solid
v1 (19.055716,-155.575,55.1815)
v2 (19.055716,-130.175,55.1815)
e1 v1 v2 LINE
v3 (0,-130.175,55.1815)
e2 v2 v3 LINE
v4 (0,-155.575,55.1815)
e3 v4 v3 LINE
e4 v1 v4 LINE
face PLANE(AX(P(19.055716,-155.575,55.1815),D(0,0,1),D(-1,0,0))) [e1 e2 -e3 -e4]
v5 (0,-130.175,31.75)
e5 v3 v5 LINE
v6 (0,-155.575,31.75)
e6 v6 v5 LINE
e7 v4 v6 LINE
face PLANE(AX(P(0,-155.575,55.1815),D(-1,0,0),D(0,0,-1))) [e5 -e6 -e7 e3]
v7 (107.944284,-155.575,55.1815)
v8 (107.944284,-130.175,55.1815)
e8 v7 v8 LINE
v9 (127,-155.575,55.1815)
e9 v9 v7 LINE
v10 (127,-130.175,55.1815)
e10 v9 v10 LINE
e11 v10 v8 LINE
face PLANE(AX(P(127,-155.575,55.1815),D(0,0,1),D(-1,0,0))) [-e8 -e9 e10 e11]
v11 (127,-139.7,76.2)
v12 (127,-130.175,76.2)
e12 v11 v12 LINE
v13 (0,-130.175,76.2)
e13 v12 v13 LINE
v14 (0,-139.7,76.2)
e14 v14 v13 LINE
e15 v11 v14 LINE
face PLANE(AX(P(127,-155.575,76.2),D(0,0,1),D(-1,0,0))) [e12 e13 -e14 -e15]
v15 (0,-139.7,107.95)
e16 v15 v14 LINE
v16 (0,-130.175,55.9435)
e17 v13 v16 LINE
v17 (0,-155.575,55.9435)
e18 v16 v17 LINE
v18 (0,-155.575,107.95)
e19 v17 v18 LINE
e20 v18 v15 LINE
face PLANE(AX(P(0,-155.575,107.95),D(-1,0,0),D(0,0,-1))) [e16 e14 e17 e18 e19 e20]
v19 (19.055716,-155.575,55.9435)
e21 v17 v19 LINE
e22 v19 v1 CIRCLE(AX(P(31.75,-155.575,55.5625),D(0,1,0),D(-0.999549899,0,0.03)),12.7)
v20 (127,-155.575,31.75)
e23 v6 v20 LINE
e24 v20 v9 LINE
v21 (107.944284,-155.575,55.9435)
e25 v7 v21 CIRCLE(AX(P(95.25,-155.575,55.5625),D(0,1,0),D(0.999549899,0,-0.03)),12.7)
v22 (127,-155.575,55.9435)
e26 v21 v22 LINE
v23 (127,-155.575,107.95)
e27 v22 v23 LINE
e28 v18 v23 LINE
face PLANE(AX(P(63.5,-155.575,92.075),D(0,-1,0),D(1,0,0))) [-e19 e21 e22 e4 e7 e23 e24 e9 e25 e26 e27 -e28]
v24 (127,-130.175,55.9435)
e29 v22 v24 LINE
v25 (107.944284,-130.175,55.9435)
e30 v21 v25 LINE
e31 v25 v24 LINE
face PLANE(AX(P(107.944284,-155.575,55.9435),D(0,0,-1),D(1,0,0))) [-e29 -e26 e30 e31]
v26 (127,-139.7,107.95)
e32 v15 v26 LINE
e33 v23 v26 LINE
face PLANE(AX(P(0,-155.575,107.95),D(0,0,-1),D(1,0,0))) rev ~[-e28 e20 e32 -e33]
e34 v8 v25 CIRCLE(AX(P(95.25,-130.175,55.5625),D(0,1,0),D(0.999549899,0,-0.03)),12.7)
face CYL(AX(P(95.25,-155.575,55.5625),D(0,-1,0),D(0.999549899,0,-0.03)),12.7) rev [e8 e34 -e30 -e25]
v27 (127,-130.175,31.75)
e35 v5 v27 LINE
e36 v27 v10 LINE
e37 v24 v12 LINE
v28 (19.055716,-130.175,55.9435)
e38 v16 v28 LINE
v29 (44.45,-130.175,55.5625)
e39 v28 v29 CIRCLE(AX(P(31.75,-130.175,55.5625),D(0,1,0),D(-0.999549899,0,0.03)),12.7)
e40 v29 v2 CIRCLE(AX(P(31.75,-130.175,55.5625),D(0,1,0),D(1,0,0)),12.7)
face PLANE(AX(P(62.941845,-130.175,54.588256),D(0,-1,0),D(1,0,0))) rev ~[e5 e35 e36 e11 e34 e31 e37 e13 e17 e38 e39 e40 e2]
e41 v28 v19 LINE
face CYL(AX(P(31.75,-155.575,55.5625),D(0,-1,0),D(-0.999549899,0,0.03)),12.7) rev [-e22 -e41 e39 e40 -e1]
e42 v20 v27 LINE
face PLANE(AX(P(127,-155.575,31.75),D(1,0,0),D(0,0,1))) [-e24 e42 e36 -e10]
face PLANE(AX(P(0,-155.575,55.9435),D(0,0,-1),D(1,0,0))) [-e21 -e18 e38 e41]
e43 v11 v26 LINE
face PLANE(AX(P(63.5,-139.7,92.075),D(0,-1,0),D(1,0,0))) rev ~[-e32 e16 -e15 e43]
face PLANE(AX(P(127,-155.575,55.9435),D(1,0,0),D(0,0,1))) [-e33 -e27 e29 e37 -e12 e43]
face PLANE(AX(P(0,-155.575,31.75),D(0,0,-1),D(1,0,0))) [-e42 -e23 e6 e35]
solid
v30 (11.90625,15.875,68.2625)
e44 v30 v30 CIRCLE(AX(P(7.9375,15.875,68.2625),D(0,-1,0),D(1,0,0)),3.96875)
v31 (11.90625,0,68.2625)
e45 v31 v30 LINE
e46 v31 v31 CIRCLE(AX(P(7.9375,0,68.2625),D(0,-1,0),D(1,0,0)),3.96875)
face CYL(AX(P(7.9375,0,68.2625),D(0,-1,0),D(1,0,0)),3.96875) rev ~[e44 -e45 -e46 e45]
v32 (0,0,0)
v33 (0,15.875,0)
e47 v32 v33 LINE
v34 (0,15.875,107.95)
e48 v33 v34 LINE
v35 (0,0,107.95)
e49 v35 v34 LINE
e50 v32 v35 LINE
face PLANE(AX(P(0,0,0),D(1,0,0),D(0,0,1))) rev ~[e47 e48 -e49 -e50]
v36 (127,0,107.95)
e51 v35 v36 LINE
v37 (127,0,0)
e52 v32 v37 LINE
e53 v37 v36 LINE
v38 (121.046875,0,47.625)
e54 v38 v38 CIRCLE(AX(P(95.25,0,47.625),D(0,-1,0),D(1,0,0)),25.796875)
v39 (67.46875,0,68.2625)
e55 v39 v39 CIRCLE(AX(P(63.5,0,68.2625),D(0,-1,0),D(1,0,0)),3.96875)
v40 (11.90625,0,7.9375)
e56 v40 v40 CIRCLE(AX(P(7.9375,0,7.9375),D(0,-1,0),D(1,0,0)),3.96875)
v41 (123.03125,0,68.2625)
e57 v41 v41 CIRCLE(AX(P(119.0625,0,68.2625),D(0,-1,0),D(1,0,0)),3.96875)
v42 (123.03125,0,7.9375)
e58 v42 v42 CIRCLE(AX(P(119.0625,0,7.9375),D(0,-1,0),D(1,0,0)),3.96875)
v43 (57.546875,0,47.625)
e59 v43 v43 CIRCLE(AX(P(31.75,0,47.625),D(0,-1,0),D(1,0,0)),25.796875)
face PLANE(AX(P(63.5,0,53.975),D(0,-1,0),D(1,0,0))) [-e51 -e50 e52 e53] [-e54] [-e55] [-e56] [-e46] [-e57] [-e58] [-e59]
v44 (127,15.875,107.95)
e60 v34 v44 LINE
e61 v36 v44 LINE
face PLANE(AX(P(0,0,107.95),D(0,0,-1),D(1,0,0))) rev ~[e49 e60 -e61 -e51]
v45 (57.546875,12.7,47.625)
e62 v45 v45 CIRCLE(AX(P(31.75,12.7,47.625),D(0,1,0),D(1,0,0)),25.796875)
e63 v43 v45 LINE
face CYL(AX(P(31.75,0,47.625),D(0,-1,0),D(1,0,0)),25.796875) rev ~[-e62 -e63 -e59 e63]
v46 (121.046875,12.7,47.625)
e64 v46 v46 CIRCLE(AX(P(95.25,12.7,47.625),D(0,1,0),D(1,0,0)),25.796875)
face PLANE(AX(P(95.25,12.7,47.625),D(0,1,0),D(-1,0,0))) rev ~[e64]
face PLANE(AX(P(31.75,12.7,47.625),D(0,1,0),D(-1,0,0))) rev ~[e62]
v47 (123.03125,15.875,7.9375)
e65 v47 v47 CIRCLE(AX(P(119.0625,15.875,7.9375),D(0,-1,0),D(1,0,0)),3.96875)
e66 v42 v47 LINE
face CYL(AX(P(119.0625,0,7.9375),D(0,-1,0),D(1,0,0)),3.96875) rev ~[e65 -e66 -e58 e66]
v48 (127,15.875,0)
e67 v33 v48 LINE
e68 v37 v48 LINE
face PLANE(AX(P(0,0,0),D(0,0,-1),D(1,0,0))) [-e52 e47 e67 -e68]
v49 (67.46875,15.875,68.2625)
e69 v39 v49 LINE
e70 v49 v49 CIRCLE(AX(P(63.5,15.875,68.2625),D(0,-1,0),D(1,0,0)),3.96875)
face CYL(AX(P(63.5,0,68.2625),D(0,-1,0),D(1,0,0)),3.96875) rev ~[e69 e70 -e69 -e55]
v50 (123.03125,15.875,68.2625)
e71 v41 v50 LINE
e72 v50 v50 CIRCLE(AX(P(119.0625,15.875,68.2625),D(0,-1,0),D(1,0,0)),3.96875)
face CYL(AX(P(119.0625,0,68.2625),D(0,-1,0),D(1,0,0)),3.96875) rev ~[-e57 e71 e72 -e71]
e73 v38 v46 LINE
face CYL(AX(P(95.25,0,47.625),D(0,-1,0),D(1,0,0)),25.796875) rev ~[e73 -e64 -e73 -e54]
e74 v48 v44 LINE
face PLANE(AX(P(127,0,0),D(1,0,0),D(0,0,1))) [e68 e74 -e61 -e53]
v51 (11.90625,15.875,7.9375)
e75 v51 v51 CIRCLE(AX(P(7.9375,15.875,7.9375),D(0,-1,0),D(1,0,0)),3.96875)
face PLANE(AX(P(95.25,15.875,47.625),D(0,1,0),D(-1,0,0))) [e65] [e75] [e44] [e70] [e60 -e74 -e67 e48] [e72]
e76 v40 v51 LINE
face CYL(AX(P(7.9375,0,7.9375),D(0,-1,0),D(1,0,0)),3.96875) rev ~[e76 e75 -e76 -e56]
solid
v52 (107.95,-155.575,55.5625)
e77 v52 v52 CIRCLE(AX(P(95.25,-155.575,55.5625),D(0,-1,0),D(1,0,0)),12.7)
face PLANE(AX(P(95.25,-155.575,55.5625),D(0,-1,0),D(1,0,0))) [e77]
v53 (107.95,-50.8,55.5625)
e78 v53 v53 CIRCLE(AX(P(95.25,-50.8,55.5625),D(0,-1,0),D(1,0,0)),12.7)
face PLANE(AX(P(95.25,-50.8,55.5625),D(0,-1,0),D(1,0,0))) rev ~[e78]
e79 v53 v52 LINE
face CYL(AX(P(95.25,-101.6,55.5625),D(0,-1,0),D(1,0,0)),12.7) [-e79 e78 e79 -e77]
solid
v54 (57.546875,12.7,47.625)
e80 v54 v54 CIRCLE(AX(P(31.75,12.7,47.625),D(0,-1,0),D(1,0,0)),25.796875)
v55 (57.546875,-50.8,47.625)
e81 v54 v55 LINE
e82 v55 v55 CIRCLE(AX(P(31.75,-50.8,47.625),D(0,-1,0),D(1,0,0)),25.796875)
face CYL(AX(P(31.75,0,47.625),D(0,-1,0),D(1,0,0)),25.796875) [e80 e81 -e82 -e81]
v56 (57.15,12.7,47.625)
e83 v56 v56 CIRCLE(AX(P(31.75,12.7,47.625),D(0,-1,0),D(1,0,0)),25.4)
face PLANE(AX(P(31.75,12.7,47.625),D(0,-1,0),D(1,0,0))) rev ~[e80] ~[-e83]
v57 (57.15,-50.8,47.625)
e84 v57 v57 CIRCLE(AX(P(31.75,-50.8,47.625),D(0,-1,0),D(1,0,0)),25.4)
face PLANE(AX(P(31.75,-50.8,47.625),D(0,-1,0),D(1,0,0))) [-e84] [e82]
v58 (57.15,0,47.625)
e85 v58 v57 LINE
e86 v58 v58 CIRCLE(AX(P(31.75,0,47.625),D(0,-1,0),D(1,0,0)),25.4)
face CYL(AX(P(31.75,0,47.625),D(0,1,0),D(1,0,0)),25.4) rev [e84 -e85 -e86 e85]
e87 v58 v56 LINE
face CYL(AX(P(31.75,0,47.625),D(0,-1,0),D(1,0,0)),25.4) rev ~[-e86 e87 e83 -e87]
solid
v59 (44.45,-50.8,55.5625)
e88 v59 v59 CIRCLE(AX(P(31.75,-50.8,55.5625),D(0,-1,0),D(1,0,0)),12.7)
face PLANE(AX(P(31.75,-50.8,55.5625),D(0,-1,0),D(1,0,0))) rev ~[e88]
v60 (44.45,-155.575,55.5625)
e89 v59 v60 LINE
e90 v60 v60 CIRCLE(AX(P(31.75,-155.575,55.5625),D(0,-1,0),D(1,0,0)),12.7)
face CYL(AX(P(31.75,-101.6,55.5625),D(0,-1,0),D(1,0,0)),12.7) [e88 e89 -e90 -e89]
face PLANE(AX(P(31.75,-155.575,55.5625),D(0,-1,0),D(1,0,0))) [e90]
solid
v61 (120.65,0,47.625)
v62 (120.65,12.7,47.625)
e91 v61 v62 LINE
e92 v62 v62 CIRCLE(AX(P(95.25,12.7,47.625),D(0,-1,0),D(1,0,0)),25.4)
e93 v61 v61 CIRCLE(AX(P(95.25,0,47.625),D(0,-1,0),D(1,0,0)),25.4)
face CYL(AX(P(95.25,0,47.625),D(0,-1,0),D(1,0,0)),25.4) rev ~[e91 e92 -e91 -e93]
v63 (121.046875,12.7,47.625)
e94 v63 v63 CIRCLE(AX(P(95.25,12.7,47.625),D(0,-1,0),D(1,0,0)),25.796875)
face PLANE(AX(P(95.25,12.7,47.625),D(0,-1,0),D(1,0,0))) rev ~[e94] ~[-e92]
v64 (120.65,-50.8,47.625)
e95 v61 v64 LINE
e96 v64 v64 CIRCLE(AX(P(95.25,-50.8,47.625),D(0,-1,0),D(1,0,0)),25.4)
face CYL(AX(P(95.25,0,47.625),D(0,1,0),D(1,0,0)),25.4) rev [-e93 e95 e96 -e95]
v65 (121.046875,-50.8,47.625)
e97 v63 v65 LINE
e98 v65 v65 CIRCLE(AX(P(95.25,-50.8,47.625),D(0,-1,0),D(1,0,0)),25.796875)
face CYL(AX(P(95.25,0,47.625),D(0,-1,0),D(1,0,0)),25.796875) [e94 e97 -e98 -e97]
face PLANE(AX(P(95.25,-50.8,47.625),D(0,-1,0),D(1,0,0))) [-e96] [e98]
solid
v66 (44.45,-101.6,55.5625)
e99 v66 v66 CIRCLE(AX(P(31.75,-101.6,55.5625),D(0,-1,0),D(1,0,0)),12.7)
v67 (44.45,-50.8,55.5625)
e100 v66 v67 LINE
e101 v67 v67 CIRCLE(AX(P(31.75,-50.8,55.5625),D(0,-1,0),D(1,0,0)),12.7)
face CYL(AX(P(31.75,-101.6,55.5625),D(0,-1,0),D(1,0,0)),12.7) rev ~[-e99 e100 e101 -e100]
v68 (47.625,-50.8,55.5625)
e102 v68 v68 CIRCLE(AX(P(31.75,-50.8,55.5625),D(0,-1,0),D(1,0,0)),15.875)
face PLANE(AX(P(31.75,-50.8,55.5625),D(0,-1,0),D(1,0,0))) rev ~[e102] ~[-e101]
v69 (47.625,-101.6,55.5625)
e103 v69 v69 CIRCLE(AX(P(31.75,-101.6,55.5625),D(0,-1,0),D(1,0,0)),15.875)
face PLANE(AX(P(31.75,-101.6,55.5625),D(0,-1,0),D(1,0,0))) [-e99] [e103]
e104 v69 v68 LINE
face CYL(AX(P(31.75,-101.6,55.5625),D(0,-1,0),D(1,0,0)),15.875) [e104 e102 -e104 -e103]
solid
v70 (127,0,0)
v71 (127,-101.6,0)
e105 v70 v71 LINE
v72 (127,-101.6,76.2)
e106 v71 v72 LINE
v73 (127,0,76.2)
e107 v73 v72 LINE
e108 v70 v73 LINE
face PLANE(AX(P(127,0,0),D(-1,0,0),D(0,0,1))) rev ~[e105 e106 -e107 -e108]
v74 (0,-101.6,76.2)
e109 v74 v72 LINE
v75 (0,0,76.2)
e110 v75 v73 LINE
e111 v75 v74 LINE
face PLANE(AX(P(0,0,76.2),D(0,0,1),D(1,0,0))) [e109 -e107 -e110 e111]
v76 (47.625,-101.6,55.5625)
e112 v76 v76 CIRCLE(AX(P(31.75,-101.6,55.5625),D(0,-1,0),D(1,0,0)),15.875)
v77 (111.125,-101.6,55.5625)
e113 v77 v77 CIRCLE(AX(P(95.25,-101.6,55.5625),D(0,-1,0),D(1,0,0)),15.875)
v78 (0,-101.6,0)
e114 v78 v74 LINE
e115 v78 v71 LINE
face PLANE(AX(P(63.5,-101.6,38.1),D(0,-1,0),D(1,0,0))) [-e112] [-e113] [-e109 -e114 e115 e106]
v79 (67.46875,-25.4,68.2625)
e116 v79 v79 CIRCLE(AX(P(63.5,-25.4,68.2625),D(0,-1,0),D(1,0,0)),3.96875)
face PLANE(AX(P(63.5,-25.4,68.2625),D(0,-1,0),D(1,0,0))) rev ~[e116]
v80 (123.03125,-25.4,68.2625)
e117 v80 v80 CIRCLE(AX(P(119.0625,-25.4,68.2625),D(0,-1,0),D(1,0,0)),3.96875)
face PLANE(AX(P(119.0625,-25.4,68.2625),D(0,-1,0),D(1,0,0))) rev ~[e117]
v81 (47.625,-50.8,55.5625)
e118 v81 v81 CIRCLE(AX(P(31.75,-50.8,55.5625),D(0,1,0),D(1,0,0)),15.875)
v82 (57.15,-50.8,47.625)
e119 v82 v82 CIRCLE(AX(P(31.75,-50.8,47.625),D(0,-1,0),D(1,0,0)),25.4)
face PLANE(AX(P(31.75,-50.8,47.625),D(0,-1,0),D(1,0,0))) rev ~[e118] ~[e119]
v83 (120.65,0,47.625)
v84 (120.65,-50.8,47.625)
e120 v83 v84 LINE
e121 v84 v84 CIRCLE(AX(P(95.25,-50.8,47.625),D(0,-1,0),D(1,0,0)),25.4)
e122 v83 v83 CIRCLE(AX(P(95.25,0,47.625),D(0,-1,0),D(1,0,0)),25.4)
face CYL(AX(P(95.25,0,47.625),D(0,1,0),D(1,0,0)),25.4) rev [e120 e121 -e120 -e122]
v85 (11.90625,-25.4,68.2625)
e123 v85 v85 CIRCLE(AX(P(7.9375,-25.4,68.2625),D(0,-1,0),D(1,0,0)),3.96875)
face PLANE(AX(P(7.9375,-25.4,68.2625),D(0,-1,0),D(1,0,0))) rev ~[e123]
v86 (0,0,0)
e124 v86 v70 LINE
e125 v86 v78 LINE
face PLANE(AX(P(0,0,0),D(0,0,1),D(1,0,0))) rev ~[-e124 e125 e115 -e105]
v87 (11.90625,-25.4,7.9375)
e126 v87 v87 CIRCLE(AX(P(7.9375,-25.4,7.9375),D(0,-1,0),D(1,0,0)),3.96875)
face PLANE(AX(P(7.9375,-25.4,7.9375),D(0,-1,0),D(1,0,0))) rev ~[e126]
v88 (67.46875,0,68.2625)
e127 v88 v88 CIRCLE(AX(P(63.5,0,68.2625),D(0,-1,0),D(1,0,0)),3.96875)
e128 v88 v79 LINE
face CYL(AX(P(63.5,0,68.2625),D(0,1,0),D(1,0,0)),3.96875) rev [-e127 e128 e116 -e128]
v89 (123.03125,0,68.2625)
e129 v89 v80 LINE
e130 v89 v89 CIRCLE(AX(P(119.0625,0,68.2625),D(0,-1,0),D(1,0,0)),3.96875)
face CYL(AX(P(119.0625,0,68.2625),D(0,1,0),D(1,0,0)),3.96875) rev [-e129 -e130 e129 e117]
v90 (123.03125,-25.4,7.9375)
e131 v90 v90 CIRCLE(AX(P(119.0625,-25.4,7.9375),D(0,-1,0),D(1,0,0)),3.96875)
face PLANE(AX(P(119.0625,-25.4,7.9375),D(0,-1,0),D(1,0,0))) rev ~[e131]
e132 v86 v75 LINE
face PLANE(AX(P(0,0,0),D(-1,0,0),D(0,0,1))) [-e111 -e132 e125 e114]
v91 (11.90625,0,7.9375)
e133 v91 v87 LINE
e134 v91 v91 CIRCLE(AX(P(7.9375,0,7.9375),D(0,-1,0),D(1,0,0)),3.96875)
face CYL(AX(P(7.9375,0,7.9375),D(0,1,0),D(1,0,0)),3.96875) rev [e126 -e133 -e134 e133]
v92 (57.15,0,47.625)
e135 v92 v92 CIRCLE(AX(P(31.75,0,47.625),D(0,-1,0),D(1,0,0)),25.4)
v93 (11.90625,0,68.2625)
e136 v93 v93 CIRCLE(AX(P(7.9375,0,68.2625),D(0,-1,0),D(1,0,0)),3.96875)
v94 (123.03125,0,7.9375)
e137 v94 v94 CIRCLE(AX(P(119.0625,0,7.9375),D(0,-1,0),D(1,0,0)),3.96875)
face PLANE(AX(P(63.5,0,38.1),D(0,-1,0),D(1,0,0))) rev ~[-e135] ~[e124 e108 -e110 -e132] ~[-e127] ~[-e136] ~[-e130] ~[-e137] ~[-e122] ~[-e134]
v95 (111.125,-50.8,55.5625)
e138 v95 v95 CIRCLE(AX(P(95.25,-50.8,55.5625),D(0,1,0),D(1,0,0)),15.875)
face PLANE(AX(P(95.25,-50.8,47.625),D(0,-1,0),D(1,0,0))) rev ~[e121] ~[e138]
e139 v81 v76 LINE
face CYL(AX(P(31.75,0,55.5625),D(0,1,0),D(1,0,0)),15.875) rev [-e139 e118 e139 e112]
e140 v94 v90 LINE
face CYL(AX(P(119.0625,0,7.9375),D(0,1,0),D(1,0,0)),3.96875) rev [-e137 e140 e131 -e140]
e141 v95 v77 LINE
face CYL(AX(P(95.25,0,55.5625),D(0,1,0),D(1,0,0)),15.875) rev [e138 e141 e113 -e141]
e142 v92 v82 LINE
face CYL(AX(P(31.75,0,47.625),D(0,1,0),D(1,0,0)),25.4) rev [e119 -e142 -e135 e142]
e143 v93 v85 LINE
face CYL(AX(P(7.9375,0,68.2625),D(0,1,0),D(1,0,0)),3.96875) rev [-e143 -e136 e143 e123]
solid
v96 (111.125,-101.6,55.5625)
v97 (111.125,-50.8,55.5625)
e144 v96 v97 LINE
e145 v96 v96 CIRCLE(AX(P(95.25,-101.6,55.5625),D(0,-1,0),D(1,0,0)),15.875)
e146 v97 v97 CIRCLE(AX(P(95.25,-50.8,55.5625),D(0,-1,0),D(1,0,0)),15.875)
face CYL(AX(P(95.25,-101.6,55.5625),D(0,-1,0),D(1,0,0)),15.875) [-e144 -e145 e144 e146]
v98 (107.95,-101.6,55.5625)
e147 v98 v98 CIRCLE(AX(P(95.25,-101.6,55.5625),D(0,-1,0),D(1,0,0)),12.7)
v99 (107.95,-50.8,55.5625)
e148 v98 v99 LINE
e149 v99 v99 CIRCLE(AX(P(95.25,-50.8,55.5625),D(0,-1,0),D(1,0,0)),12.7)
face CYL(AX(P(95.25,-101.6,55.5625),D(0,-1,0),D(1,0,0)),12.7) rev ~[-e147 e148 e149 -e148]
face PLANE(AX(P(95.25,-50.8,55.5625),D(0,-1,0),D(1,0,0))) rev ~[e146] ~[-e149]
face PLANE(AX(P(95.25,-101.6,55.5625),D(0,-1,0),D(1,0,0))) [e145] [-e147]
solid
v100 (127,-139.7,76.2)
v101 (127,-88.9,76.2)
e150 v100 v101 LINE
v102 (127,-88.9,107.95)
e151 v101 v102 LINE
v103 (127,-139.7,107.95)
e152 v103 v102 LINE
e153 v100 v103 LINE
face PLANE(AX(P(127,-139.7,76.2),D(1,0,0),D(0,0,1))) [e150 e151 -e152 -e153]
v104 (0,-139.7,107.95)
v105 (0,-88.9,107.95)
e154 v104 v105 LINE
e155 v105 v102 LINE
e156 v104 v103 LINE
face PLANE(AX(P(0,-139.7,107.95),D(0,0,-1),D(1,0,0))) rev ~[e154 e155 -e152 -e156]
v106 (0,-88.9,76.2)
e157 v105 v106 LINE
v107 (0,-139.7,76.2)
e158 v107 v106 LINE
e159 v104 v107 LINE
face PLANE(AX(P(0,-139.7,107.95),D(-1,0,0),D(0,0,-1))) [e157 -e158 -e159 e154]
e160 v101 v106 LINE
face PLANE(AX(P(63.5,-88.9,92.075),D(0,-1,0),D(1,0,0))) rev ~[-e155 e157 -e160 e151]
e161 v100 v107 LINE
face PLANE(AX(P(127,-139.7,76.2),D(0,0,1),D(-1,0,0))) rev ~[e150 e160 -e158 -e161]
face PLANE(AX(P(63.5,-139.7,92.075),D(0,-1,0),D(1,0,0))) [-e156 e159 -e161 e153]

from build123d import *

# Parameters (mm, degrees)
F0_W           = 127
F0_H           = 76.2
F0_R           = 25.4
F0_R_2         = 15.875
F1_DEPTH       = 101.6
F2_DEPTH       = 50.8
F3_R           = 15.875
F3_R_2         = 12.7
F4_DEPTH       = 50.8
F5_R           = 25.796875
F5_R_2         = 25.4
F6_DEPTH       = 50.8
F6_DEPTH_BACK  = 12.7
F7_W           = 127
F7_H           = 107.95
F7_R           = 25.796875
F8_DEPTH       = 15.875
F9_R           = 25.796875
F10_DEPTH      = 3.175
F11_R          = 12.7
F12_DEPTH      = 53.975
F12_DEPTH_BACK = 50.8
F13_W          = 127
F13_H          = 31.75
F14_DEPTH      = 15.875
F15_R          = 3.96875
F16_DEPTH      = 25.4
F16_DEPTH_BACK = 25.4
F17_DEPTH      = 25.4
F18_DEPTH      = 50.8


with BuildPart() as f1:
    # F0 (on Front) → F1 (new body)
    with BuildSketch(Plane.XZ):
        with Locations((63.5, 38.1)):
            Rectangle(F0_W, F0_H)
        with Locations((31.75, 47.625)):
            Circle(F0_R, mode=Mode.SUBTRACT)
        with Locations((95.25, 47.625)):
            Circle(F0_R, mode=Mode.SUBTRACT)
        with Locations((31.75, 47.625)):
            Circle(F0_R)
        with Locations((31.75, 55.5625)):
            Circle(F0_R_2, mode=Mode.SUBTRACT)
        with Locations((95.25, 47.625)):
            Circle(F0_R)
        with Locations((95.25, 55.5625)):
            Circle(F0_R_2, mode=Mode.SUBTRACT)
    extrude(amount=F1_DEPTH)

    # F0 (on Front) → F2 (cut)
    with BuildSketch(Plane.XZ):
        with Locations((31.75, 47.625)):
            Circle(F0_R)
        with Locations((31.75, 55.5625)):
            Circle(F0_R_2, mode=Mode.SUBTRACT)
        with Locations((95.25, 47.625)):
            Circle(F0_R)
        with Locations((95.25, 55.5625)):
            Circle(F0_R_2, mode=Mode.SUBTRACT)
        with Locations((95.25, 55.5625)):
            Circle(F0_R_2)
        with Locations((31.75, 55.5625)):
            Circle(F0_R_2)
    extrude(amount=F2_DEPTH, mode=Mode.SUBTRACT)


with BuildPart() as f4:
    # F3 (on face) → F4 (new body)
    with BuildSketch(Plane.XZ.offset(101.6)):
        with Locations((31.75, 55.5625)):
            Circle(F3_R)
        with Locations((31.75, 55.5625)):
            Circle(F3_R_2, mode=Mode.SUBTRACT)
    extrude(amount=-F4_DEPTH)


with BuildPart() as f4b:
    # F3 (on face) → F4, piece 2 (new body)
    with BuildSketch(Plane.XZ.offset(101.6)):
        with Locations((95.25, 55.5625)):
            Circle(F3_R)
        with Locations((95.25, 55.5625)):
            Circle(F3_R_2, mode=Mode.SUBTRACT)
    extrude(amount=-F4_DEPTH)


with BuildPart() as f6:
    # F5 (on face) → F6 (new body, two sides)
    with BuildSketch(Plane.XZ) as f6_sk:
        with Locations((95.25, 47.625)):
            Circle(F5_R)
        with Locations((95.25, 47.625)):
            Circle(F5_R_2, mode=Mode.SUBTRACT)
    extrude(amount=F6_DEPTH)
    extrude(f6_sk.sketch, amount=-F6_DEPTH_BACK)


with BuildPart() as f6b:
    # F5 (on face) → F6, piece 2 (new body, two sides)
    with BuildSketch(Plane.XZ) as f6_2_sk:
        with Locations((31.75, 47.625)):
            Circle(F5_R)
        with Locations((31.75, 47.625)):
            Circle(F5_R_2, mode=Mode.SUBTRACT)
    extrude(amount=F6_DEPTH)
    extrude(f6_2_sk.sketch, amount=-F6_DEPTH_BACK)


with BuildPart() as f8:
    # F7 (on face) → F8 (new body)
    with BuildSketch(Plane.XZ):
        with Locations((63.5, 53.975)):
            Rectangle(F7_W, F7_H)
        with Locations((31.75, 47.625)):
            Circle(F7_R, mode=Mode.SUBTRACT)
        with Locations((95.25, 47.625)):
            Circle(F7_R, mode=Mode.SUBTRACT)
    extrude(amount=-F8_DEPTH)

    # F9 (on face) → F10 (join)
    with BuildSketch(Plane(origin=(0, 15.875, 0), x_dir=(-1, 0, 0), z_dir=(0, 1, 0))):
        with Locations((-95.25, 47.625)):
            Circle(F9_R)
        with Locations((-31.75, 47.625)):
            Circle(F9_R)
    extrude(amount=-F10_DEPTH)


with BuildPart() as f12:
    # F11 (on face) → F12 (new body, two sides)
    with BuildSketch(Plane.XZ.offset(101.6)) as f12_sk:
        with Locations((31.75, 55.5625)):
            Circle(F11_R)
    extrude(amount=F12_DEPTH)
    extrude(f12_sk.sketch, amount=-F12_DEPTH_BACK)


with BuildPart() as f12b:
    # F11 (on face) → F12, piece 2 (new body, two sides)
    with BuildSketch(Plane.XZ.offset(101.6)) as f12_2_sk:
        with Locations((95.25, 55.5625)):
            Circle(F11_R)
    extrude(amount=F12_DEPTH)
    extrude(f12_2_sk.sketch, amount=-F12_DEPTH_BACK)


with BuildPart() as f14:
    # F13 (on face) → F14 (new body)
    with BuildSketch(Plane.XZ.offset(155.575)):
        with Locations((63.5, 92.075)):
            Rectangle(F13_W, F13_H)
        with BuildLine():
            Line((127, 76.2), (0, 76.2))
            Line((0, 76.2), (0, 55.9435))
            Line((0, 55.9435), (19.0557162865, 55.9435))
            ThreePointArc((19.0557162865, 55.9435), (44.45, 55.5625), (19.0557162865, 55.1815))
            Line((19.0557162865, 55.1815), (0, 55.1815))
            Line((0, 55.1815), (0, 31.75))
            Line((0, 31.75), (127, 31.75))
            Line((127, 31.75), (127, 55.1815))
            Line((127, 55.1815), (107.9442837135, 55.1815))
            ThreePointArc((107.9442837135, 55.1815), (82.55, 55.5625), (107.9442837135, 55.9435))
            Line((107.9442837135, 55.9435), (127, 55.9435))
            Line((127, 55.9435), (127, 76.2))
        make_face()
    extrude(amount=-F14_DEPTH)

    # F13 (on face) → F17 (join)
    with BuildSketch(Plane.XZ.offset(155.575)):
        with BuildLine():
            Line((127, 76.2), (0, 76.2))
            Line((0, 76.2), (0, 55.9435))
            Line((0, 55.9435), (19.0557162865, 55.9435))
            ThreePointArc((19.0557162865, 55.9435), (31.9405214397, 68.261070848), (44.45, 55.5625))
            ThreePointArc((44.45, 55.5625), (31.9405214397, 42.863929152), (19.0557162865, 55.1815))
            Line((19.0557162865, 55.1815), (0, 55.1815))
            Line((0, 55.1815), (0, 31.75))
            Line((0, 31.75), (127, 31.75))
            Line((127, 31.75), (127, 55.1815))
            Line((127, 55.1815), (107.9442837135, 55.1815))
            ThreePointArc((107.9442837135, 55.1815), (82.55, 55.5625), (107.9442837135, 55.9435))
            Line((107.9442837135, 55.9435), (127, 55.9435))
            Line((127, 55.9435), (127, 76.2))
        make_face()
    extrude(amount=-F17_DEPTH)


with BuildPart() as f16_tool:
    # F15 (on face) → F16 (new body, two sides)
    with BuildSketch(Plane.XZ) as f16_sk:
        with Locations((119.0625, 68.2625)):
            Circle(F15_R)
        with Locations((7.9375, 68.2625)):
            Circle(F15_R)
        with Locations((119.0625, 7.9375)):
            Circle(F15_R)
        with Locations((7.9375, 7.9375)):
            Circle(F15_R)
        with Locations((63.5, 68.2625)):
            Circle(F15_R)
    extrude(amount=-F16_DEPTH)
    extrude(f16_sk.sketch, amount=F16_DEPTH_BACK)


with BuildPart() as f1_1:
    add(f1.part)

    # F16: cut by f16_tool
    add(f16_tool.part, mode=Mode.SUBTRACT)


with BuildPart() as f8_1:
    add(f8.part)

    # F16: cut by f16_tool
    add(f16_tool.part, mode=Mode.SUBTRACT)


with BuildPart() as f18:
    # F18 (new): a face of the model
    f18_faces = [f14.part.faces().sort_by_distance(p)[0] for p in [
        (63.5, -139.7, 92.075),
    ]]
    extrude(f18_faces, amount=F18_DEPTH)


solid = Compound([f4.part, f4b.part, f6.part, f6b.part, f12.part, f12b.part, f14.part, f1_1.part, f8_1.part, f18.part])
